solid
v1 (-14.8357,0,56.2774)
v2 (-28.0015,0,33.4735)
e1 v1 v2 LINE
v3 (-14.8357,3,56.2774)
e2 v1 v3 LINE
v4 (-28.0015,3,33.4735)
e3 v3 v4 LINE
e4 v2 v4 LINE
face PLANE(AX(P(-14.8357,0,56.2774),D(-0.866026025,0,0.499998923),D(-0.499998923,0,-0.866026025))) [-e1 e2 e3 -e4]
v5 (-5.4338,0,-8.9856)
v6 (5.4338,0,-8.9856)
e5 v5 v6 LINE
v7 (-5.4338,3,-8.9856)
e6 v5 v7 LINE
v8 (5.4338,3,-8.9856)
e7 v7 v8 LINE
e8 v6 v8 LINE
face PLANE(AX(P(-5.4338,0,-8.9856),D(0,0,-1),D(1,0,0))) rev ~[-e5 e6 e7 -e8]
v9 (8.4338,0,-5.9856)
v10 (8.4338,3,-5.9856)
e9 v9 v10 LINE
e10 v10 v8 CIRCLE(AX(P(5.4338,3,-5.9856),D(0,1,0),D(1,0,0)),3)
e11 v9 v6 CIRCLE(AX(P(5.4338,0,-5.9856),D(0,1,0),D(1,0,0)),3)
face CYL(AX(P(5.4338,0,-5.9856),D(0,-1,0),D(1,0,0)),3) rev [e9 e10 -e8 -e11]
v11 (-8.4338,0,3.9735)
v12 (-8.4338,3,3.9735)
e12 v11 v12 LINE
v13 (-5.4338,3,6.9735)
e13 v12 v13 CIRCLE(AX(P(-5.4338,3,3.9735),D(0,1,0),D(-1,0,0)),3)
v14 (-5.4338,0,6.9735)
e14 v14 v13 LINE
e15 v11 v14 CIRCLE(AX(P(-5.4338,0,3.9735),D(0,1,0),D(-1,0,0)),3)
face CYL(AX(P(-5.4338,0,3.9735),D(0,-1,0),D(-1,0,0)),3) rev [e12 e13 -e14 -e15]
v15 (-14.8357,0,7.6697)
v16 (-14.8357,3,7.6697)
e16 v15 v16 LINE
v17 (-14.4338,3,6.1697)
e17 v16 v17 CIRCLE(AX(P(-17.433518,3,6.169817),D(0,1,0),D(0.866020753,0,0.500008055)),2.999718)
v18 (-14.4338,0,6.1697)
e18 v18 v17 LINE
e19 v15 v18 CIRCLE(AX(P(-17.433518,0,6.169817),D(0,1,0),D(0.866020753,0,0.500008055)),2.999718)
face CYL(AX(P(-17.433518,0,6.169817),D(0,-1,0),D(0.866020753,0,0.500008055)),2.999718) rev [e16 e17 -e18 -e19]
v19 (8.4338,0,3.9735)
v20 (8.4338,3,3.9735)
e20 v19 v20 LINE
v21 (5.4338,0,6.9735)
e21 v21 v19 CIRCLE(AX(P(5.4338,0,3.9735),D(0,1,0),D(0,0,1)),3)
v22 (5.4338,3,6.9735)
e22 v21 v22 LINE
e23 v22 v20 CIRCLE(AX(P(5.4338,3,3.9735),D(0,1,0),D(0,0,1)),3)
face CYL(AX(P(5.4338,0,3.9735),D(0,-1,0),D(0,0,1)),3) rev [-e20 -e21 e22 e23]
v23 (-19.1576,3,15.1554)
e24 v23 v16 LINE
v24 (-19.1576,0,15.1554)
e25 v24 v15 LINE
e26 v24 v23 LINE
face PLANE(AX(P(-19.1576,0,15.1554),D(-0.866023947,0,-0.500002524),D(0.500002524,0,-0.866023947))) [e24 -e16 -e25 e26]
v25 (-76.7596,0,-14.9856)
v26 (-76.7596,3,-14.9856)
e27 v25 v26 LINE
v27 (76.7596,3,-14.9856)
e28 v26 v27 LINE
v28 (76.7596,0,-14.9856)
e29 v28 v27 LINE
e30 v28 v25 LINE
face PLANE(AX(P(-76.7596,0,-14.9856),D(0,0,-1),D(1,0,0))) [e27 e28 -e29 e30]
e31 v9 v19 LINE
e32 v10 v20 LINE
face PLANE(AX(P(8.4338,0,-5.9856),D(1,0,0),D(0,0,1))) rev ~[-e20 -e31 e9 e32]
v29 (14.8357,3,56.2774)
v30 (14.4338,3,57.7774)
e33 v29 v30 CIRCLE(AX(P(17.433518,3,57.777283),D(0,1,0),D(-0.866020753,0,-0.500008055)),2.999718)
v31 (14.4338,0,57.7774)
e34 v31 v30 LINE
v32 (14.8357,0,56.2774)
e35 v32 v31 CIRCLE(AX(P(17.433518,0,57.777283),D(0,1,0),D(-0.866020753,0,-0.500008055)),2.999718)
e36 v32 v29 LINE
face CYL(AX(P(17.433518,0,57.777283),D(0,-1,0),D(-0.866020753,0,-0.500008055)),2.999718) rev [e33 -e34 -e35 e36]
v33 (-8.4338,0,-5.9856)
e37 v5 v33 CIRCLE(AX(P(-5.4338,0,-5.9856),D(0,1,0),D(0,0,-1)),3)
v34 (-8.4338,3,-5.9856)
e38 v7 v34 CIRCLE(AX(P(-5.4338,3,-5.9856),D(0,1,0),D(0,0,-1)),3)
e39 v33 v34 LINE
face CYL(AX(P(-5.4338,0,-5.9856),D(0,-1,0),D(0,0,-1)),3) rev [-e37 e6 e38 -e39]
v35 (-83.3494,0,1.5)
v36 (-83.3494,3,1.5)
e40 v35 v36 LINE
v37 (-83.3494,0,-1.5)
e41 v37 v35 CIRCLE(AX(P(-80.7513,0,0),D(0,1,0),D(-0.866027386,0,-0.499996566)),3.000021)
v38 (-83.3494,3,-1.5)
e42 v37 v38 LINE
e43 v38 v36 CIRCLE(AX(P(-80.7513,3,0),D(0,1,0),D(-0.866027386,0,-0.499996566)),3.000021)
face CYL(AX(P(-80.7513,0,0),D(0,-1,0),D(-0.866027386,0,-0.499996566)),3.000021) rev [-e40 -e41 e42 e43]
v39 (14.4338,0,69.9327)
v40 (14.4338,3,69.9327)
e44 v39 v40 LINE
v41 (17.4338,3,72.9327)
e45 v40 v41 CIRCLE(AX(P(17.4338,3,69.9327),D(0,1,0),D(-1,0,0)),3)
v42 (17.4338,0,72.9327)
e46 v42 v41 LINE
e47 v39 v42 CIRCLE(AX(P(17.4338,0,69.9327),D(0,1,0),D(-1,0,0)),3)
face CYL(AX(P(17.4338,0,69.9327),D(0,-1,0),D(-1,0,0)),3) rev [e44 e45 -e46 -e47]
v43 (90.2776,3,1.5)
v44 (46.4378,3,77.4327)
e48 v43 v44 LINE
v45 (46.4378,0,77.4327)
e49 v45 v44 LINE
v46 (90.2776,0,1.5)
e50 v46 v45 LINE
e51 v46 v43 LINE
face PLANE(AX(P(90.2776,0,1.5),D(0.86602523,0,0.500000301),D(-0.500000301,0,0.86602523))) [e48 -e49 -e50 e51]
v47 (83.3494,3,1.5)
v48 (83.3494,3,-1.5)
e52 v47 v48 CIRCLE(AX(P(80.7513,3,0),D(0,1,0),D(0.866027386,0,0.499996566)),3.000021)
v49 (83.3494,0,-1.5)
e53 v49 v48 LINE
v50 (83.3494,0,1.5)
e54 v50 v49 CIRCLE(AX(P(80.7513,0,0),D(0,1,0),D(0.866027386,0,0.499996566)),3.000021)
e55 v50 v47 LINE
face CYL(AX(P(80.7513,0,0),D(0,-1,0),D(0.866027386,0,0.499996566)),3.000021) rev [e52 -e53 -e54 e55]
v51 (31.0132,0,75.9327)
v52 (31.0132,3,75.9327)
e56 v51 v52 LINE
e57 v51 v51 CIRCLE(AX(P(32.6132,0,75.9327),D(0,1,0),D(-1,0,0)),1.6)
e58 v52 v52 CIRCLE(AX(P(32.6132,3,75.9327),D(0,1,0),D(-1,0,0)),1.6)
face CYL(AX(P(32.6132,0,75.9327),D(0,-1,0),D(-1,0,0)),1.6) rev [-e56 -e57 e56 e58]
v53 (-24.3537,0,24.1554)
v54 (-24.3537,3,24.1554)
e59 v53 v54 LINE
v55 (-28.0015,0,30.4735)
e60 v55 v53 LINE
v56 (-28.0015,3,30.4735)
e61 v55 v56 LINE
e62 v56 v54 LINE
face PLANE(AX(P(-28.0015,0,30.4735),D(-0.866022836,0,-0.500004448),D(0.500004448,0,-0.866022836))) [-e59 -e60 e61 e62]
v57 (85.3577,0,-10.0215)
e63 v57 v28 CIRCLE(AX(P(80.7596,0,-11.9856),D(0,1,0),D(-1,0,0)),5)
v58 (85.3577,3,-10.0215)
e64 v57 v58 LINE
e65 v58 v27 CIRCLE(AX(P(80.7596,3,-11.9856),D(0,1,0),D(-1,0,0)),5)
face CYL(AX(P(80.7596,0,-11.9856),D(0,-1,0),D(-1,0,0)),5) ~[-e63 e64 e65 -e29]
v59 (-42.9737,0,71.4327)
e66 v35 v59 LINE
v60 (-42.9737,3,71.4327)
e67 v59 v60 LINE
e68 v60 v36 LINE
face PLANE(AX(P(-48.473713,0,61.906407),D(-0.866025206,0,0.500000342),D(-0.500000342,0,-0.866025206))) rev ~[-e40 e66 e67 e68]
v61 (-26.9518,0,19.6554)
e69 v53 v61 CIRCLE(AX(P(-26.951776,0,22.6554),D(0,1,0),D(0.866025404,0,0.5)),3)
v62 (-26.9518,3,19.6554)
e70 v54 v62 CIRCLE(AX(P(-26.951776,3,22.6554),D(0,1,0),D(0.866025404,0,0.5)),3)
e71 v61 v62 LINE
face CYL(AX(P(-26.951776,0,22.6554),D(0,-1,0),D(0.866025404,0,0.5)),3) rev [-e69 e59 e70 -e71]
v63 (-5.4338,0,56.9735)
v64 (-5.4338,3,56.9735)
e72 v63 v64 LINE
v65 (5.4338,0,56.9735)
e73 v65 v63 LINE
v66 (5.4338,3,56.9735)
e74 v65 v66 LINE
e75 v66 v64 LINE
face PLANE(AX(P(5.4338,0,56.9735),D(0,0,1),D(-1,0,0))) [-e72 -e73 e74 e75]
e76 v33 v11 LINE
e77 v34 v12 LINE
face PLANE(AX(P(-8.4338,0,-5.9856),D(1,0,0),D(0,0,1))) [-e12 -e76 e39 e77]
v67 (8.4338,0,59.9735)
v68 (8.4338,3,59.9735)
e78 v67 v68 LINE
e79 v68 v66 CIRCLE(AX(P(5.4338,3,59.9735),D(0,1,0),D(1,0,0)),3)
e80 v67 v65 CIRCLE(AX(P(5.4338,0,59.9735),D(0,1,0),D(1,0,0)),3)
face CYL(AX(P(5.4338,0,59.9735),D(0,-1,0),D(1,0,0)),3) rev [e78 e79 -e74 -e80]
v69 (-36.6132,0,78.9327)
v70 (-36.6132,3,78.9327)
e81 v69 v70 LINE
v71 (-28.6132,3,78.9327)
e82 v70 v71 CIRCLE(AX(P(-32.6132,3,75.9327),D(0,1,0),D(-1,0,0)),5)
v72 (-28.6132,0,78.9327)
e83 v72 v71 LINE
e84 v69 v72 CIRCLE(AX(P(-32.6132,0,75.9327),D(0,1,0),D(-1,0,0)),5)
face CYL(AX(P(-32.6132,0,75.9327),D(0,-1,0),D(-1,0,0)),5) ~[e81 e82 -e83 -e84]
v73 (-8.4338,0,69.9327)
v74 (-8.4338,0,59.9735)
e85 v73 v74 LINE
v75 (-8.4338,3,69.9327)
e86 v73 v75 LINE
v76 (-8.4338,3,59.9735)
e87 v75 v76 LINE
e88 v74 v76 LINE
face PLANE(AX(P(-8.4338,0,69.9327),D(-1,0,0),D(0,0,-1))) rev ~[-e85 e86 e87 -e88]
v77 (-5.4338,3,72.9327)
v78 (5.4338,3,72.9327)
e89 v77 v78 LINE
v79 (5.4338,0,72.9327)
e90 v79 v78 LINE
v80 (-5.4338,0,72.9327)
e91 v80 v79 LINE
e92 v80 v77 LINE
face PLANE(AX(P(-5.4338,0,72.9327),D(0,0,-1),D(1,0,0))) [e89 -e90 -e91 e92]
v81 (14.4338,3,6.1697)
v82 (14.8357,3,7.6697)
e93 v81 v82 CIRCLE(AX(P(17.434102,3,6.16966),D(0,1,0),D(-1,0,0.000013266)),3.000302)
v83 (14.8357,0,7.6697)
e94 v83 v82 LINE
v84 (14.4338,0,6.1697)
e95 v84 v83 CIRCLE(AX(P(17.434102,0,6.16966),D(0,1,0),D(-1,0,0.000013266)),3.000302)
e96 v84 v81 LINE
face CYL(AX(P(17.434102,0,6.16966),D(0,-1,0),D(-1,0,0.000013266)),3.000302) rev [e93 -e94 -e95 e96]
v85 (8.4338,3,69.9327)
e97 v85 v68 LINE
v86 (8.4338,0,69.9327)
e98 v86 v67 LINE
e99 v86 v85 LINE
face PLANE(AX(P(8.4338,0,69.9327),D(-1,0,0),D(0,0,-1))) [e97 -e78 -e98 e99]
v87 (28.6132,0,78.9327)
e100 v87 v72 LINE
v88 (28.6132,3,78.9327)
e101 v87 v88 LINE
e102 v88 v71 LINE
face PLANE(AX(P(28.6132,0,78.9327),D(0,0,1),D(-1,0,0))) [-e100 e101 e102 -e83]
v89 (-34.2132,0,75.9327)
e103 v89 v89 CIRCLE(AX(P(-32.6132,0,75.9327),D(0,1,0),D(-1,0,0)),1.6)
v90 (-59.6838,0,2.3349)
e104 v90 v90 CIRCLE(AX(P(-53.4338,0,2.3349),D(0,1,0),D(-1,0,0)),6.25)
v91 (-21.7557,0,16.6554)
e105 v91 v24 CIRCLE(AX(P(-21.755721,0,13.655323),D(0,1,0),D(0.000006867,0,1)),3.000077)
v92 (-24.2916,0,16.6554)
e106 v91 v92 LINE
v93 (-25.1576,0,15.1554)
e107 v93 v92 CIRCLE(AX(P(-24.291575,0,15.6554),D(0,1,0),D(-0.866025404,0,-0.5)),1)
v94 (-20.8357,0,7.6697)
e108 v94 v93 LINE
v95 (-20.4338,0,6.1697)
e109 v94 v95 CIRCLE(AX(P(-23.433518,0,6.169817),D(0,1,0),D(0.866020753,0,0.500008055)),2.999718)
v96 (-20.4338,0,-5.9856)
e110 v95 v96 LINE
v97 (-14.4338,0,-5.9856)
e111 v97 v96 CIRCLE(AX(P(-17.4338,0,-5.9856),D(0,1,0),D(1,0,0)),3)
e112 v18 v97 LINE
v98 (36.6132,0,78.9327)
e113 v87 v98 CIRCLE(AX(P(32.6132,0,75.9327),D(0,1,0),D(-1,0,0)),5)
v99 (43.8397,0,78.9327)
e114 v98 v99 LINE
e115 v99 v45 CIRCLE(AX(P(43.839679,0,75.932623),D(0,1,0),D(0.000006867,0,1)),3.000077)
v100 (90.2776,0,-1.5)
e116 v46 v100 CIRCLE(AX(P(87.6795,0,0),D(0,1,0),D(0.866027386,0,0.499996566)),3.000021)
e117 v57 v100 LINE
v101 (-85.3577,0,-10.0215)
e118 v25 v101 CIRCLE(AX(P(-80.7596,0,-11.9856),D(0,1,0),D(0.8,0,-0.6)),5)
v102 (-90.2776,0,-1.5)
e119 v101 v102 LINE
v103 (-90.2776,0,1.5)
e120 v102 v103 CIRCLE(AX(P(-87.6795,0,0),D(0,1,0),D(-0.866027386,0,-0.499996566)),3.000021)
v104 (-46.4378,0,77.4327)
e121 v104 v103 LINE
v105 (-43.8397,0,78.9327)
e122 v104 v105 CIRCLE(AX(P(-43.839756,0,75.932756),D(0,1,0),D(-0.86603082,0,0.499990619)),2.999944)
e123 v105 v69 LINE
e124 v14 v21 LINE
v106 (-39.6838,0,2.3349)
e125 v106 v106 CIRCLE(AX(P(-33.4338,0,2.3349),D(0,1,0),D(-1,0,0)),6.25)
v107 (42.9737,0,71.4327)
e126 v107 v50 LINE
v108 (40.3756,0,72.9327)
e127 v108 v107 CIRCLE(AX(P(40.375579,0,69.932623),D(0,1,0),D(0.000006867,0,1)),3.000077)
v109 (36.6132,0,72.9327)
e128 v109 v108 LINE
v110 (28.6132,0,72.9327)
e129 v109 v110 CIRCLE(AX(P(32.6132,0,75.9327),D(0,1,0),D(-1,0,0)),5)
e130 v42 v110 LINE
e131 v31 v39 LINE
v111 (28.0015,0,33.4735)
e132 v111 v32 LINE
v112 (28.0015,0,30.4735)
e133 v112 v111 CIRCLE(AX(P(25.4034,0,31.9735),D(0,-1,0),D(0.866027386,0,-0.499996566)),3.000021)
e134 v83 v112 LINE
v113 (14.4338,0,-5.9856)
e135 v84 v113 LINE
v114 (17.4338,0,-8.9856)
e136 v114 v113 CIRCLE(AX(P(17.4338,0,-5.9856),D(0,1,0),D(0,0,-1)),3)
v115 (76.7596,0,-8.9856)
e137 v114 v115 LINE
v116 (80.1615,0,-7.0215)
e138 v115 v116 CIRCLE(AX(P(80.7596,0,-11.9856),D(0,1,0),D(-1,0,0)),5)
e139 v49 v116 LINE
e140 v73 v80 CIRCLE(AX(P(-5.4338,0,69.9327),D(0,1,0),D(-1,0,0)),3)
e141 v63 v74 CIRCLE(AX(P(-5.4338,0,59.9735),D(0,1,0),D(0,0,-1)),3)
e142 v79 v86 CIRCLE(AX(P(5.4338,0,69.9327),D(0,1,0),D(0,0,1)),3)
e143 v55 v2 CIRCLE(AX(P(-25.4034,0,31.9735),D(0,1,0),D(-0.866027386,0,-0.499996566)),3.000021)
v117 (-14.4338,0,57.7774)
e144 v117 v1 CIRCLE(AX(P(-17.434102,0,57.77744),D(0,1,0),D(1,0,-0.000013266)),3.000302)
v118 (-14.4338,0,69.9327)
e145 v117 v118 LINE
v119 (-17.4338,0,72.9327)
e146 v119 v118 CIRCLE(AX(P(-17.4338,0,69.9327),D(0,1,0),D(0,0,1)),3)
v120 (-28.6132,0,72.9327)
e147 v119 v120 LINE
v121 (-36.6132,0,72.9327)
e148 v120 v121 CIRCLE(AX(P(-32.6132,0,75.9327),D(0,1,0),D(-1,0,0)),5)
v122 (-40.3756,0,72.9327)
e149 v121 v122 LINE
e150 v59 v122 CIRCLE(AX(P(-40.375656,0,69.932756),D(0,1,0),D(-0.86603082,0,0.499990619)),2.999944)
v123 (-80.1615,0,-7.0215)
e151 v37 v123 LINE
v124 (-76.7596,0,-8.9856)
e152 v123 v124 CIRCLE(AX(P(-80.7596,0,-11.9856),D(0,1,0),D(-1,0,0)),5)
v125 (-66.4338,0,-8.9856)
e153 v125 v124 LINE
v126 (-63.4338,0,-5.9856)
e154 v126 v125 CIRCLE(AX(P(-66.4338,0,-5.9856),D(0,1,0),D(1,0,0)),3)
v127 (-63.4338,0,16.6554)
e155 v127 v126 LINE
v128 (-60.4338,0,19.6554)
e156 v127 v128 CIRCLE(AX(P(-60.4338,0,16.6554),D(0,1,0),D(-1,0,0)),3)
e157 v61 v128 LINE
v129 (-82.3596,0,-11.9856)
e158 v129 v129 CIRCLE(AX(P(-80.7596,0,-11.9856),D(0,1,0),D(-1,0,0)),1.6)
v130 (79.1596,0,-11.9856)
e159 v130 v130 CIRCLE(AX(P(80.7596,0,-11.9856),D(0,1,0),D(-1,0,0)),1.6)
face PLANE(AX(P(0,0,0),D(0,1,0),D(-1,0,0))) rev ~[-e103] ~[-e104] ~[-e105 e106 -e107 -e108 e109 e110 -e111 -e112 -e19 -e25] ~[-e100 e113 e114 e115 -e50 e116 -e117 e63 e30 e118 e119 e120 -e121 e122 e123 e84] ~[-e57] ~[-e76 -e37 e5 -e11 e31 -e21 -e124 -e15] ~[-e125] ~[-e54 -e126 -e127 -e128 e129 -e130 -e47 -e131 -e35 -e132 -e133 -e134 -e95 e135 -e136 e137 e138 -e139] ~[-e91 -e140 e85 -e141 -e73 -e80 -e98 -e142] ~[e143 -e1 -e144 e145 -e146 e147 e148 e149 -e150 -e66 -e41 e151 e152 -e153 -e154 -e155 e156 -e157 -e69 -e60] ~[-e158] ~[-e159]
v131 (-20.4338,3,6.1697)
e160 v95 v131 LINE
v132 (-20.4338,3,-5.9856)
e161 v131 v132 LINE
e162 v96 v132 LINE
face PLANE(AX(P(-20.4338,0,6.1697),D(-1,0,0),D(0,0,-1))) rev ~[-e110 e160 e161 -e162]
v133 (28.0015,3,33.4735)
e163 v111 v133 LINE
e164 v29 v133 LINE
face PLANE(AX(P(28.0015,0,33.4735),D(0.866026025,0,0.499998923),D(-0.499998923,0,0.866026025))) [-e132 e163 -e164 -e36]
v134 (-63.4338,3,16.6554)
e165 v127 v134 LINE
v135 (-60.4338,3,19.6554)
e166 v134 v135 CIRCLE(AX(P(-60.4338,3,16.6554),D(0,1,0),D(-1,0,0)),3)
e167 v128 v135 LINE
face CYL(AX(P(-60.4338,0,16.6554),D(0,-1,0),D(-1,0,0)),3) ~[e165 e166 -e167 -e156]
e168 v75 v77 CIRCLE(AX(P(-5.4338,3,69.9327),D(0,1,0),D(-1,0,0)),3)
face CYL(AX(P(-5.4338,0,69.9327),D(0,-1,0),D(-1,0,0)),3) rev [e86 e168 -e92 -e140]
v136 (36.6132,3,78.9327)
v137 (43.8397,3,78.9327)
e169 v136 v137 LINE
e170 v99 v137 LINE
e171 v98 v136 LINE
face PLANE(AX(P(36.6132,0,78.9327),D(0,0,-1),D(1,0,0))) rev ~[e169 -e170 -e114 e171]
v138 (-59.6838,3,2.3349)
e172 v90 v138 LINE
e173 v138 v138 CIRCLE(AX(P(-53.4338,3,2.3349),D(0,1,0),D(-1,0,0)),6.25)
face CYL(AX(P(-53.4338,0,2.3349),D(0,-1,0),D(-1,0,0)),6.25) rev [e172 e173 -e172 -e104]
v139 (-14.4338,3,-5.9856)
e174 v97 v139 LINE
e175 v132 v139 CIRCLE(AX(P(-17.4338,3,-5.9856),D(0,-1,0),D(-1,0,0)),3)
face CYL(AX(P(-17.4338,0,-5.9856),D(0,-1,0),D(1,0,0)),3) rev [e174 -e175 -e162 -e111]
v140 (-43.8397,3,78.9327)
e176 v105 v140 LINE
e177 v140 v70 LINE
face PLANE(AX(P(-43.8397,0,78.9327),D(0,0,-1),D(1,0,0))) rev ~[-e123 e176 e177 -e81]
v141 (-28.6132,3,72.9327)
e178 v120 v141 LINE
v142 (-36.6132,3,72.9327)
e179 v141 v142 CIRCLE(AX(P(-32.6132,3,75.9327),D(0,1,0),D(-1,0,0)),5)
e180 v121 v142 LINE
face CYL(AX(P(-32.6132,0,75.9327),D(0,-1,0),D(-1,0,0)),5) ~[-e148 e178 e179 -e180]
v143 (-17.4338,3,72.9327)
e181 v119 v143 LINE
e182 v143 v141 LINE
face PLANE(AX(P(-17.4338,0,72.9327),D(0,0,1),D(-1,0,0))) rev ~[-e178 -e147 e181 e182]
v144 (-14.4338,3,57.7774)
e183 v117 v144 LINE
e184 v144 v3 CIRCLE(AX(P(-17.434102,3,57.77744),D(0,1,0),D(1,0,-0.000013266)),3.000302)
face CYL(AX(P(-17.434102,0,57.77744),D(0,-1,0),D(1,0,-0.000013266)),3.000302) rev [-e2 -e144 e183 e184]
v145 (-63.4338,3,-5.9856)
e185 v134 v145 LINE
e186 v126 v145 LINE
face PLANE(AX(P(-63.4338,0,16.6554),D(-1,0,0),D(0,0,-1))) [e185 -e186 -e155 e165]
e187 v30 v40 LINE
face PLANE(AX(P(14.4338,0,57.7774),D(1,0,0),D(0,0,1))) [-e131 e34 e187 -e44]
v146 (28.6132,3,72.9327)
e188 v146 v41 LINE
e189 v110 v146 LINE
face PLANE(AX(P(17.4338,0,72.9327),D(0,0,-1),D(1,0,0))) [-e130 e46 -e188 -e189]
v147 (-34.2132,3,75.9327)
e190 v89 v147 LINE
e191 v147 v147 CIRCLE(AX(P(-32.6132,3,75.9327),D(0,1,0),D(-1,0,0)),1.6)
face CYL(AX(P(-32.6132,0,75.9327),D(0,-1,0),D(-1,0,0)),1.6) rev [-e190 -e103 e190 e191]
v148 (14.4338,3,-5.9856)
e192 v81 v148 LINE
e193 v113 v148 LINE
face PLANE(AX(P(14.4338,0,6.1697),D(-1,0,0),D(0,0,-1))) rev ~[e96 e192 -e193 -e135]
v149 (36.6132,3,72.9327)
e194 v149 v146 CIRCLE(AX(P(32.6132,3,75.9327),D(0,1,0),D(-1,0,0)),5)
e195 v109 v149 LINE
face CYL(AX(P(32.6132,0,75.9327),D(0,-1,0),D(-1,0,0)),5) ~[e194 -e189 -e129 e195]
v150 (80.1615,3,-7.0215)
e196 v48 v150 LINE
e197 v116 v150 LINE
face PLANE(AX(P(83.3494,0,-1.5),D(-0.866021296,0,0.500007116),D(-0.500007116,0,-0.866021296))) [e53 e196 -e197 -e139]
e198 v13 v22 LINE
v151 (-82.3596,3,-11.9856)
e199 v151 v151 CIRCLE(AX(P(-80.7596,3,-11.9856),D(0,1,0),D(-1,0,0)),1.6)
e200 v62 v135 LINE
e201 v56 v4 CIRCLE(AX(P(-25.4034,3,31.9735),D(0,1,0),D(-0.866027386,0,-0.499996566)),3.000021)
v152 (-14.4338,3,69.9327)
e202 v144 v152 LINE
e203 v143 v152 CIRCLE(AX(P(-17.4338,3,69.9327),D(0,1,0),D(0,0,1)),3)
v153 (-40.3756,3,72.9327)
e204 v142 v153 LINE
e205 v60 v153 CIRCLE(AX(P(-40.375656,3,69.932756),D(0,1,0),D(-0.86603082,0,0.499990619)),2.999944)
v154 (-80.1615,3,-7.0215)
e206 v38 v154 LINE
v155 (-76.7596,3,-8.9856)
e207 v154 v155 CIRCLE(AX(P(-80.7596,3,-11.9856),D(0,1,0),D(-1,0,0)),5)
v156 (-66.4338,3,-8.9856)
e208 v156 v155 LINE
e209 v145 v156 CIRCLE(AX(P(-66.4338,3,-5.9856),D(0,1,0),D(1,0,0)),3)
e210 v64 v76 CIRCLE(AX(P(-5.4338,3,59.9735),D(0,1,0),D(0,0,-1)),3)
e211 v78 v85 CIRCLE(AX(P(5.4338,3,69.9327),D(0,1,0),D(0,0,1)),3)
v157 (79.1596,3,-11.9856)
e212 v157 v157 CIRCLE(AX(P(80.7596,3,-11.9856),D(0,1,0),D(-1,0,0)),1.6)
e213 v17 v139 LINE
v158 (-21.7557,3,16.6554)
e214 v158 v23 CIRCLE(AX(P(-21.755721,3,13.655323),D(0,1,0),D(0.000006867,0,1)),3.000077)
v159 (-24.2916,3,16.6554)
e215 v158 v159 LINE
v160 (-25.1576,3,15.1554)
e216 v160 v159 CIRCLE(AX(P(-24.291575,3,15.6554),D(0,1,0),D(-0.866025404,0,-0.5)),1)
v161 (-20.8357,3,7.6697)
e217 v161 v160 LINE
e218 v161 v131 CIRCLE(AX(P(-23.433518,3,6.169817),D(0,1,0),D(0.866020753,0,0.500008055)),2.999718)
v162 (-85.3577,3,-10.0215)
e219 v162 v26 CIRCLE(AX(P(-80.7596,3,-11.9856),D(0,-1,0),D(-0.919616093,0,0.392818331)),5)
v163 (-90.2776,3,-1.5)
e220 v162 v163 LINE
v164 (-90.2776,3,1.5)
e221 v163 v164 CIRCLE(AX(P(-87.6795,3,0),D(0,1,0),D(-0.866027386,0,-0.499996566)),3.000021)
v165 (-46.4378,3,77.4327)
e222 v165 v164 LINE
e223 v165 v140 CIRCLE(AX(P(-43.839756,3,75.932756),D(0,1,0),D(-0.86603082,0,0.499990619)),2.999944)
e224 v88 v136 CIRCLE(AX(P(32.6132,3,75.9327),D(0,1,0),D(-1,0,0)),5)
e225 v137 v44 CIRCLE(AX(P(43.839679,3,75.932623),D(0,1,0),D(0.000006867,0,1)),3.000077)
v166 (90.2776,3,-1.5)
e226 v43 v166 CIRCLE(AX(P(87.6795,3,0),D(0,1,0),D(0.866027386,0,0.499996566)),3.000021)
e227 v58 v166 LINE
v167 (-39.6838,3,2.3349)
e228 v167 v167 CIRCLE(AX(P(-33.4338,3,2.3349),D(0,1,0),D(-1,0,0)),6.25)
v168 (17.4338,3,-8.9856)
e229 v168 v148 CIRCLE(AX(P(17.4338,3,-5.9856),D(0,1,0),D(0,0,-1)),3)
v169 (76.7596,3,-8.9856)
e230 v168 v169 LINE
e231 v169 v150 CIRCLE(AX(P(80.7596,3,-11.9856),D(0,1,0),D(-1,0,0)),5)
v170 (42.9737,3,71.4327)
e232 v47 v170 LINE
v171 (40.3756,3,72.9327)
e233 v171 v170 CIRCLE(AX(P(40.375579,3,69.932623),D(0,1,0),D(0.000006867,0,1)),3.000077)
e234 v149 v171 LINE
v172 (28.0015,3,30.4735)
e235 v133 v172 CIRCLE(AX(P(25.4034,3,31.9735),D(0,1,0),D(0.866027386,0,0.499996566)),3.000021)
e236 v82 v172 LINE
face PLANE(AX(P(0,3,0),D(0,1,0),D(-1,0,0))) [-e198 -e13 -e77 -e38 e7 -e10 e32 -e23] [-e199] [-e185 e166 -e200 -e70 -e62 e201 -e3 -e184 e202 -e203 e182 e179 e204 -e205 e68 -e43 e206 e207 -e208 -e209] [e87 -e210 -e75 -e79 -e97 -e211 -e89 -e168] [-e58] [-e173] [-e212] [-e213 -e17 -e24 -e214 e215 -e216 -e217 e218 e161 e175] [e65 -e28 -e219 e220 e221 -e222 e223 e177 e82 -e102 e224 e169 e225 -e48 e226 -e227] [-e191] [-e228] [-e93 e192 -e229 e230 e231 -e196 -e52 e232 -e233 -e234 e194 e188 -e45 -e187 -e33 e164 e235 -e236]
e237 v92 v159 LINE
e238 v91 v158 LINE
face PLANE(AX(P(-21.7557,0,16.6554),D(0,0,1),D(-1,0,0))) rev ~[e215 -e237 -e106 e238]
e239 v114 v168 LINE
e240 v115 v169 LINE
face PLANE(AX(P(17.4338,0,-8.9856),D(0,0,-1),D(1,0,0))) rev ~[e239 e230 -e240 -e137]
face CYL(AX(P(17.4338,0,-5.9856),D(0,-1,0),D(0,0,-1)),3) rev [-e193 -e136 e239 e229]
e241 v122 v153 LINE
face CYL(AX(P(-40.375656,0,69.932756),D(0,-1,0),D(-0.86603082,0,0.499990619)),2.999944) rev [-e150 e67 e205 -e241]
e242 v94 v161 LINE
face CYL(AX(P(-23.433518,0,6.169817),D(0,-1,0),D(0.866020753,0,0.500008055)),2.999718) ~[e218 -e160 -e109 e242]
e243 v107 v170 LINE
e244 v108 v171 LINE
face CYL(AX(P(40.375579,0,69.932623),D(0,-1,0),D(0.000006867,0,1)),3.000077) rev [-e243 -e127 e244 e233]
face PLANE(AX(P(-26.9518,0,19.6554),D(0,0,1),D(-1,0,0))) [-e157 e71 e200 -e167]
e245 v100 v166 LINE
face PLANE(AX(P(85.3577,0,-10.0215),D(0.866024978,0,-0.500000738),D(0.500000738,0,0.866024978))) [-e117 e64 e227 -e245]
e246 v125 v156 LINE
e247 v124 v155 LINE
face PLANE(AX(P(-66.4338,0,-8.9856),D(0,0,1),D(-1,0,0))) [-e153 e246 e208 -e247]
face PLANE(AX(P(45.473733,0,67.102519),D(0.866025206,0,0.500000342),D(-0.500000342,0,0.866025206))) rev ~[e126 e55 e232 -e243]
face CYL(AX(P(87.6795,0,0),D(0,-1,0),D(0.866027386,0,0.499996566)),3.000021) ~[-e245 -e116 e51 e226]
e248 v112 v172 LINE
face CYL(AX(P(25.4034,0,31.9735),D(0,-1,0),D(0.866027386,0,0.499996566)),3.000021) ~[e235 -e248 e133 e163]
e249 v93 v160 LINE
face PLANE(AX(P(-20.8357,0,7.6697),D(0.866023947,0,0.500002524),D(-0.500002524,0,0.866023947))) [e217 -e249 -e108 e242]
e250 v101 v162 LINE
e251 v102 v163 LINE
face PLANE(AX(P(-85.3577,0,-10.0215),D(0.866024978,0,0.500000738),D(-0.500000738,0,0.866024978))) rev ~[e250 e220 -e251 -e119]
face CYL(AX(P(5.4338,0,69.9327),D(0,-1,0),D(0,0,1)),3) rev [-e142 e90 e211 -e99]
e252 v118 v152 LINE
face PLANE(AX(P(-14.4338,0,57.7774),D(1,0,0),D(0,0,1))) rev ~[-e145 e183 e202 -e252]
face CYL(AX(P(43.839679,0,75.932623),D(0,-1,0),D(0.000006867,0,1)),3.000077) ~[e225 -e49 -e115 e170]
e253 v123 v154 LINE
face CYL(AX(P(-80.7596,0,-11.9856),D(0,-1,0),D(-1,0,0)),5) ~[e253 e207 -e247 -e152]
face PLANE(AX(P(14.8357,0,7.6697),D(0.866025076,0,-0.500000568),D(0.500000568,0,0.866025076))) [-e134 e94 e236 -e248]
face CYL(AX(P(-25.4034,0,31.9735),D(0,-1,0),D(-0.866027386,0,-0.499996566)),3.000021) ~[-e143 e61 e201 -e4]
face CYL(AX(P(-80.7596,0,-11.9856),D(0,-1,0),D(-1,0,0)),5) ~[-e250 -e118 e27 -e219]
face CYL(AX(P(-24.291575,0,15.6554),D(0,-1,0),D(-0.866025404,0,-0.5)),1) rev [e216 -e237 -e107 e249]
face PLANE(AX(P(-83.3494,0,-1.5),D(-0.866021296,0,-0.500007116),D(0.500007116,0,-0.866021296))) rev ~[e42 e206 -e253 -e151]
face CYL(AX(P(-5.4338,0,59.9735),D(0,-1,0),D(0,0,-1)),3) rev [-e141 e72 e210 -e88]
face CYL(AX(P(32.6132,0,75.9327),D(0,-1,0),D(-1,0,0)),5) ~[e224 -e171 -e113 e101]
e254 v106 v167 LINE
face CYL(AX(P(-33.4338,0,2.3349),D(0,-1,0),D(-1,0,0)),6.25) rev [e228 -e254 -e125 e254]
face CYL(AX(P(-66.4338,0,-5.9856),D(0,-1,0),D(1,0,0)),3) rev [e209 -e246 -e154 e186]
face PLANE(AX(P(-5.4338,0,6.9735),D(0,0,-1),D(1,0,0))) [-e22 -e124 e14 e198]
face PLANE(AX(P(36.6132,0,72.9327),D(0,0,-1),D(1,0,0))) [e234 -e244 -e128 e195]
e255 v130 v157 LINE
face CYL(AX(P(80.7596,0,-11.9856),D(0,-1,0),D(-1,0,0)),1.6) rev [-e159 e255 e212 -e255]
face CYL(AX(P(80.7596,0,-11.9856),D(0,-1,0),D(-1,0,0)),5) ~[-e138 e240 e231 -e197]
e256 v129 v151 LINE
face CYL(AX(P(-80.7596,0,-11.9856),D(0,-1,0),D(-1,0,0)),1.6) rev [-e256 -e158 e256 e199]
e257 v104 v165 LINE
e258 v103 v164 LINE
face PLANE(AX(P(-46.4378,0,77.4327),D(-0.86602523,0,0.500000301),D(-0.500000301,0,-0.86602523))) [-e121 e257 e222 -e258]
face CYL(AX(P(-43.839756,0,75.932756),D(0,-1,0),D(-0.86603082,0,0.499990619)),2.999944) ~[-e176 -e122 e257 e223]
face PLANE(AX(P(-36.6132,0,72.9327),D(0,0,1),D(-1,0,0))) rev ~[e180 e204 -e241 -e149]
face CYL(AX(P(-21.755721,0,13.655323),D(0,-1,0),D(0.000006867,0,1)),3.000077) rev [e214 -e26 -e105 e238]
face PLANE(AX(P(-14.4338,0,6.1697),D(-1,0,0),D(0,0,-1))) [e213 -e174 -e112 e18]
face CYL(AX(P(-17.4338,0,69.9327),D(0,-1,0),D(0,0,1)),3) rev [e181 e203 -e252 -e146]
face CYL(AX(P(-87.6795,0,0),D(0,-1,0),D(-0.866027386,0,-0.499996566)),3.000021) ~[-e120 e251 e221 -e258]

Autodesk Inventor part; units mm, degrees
ref_plane "YZ Plane" through (0, 0, 0) normal (1, 0, 0) x (0, 1, 0)
ref_plane "XZ Plane" through (0, 0, 0) normal (0, 1, 0) x (-1, 0, 0)
ref_plane "XY Plane" through (0, 0, 0) normal (0, 0, 1) x (1, 0, 0)
sketch "Sketch1" plane through (0, 0, 0) normal (0, 1, 0) x (-1, 0, 0)
  circle A0 centre (32.6132, 75.9327) radius 1.6
  circle A1 centre (-32.6132, 75.9327) radius 1.6
  circle A2 centre (80.7596, -11.9856) radius 1.6
  circle A3 centre (-80.7596, -11.9856) radius 1.6
  circle A4 centre (80.7596, -11.9856) radius 5
  circle A5 centre (32.6132, 75.9327) radius 5
  circle A6 centre (-32.6132, 75.9327) radius 5
  circle A7 centre (-80.7596, -11.9856) radius 5
  line L0 (-90.2776, 1.5) -> (-46.4378, 77.4327)
  line L1 (46.4378, 77.4327) -> (90.2776, 1.5)
  line L2 (-83.3494, 1.5) -> (-42.9737, 71.4327)
  line L3 (36.6132, 72.9327) -> (40.3756, 72.9327)
  line L4 (42.9737, 71.4327) -> (83.3494, 1.5)
  line L5 (83.3494, -1.5) -> (80.1615, -7.0215)
  line L6 (85.3577, -10.0215) -> (90.2776, -1.5)
  line L7 (43.8397, 78.9327) -> (36.6132, 78.9327)
  line L8 (-17.4338, 72.9327) -> (-28.6132, 72.9327)
  line L9 (-28.6132, 78.9327) -> (28.6132, 78.9327)
  line L10 (-36.6132, 72.9327) -> (-40.3756, 72.9327)
  line L11 (-36.6132, 78.9327) -> (-43.8397, 78.9327)
  line L12 (-83.3494, -1.5) -> (-80.1615, -7.0215)
  line L13 (-85.3577, -10.0215) -> (-90.2776, -1.5)
  line L14 (-80.7596, -11.9856) -> (-77.7596, -11.9856) construction
  line L15 (76.7596, -14.9856) -> (-76.7596, -14.9856)
  arc A8 (90.2776, -1.5) -> (90.2776, 1.5) centre (87.6795, 0) ccw
  arc A9 (83.3494, -1.5) -> (83.3494, 1.5) centre (80.7513, 0) ccw
  arc A10 (46.4378, 77.4327) -> (43.8397, 78.9327) centre (43.8397, 75.9327) ccw
  arc A11 (42.9737, 71.4327) -> (40.3756, 72.9327) centre (40.3756, 69.9327) ccw
  arc A12 (-43.8397, 78.9327) -> (-46.4378, 77.4327) centre (-43.8397, 75.9327) ccw
  arc A13 (-40.3756, 72.9327) -> (-42.9737, 71.4327) centre (-40.3756, 69.9327) ccw
  arc A14 (-83.3494, 1.5) -> (-83.3494, -1.5) centre (-80.7513, 0) ccw
  arc A15 (-90.2776, 1.5) -> (-90.2776, -1.5) centre (-87.6795, 0) ccw
  line L16 (42.9737, 71.4327) -> (45.4737, 67.1025)
  line L17 (45.4737, 67.1025) -> (48.4737, 61.9064)
  line L18 (-42.9737, 71.4327) -> (-45.4737, 67.1025)
  line L19 (-45.4737, 67.1025) -> (-48.4737, 61.9064)
  line L20 (-23.0235, 72.9327) -> (-26.0235, 72.9327)
  line L21 (-23.0235, 72.9327) -> (-20.0235, 72.9327)
  line L22 (-28.0015, 33.4735) -> (-14.8357, 56.2774)
  line L23 (-5.4338, 56.9735) -> (5.4338, 56.9735)
  line L24 (14.8357, 56.2774) -> (28.0015, 33.4735)
  line L25 (5.4338, 6.9735) -> (-5.4338, 6.9735)
  line L26 (-14.8357, 7.6697) -> (-28.0015, 30.4735)
  line L27 (14.4338, 6.1697) -> (14.4338, -5.9856)
  line L28 (-14.4338, 6.1697) -> (-14.4338, -5.9856)
  line L29 (-8.4338, -5.9856) -> (-8.4338, 3.9735)
  line L30 (8.4338, -5.9856) -> (8.4338, 3.9735)
  line L31 (-14.4338, 57.7774) -> (-14.4338, 69.9327)
  line L32 (-8.4338, 69.9327) -> (-8.4338, 59.9735)
  line L33 (14.4338, 57.7774) -> (14.4338, 69.9327)
  line L34 (8.4338, 69.9327) -> (8.4338, 59.9735)
  arc A16 (14.4338, -5.9856) -> (17.4338, -8.9856) centre (17.4338, -5.9856) ccw
  arc A17 (14.8357, 7.6697) -> (14.4338, 6.1697) centre (17.4338, 6.1697) ccw
  arc A18 (8.4338, 3.9735) -> (5.4338, 6.9735) centre (5.4338, 3.9735) ccw
  arc A19 (-5.4338, 6.9735) -> (-8.4338, 3.9735) centre (-5.4338, 3.9735) ccw
  arc A20 (-14.4338, 6.1697) -> (-14.8357, 7.6697) centre (-17.4338, 6.1697) ccw
  arc A21 (-28.0015, 33.4735) -> (-28.0015, 30.4735) centre (-25.4034, 31.9735) ccw
  arc A22 (28.0015, 30.4735) -> (28.0015, 33.4735) centre (25.4034, 31.9735) ccw
  arc A23 (-14.8357, 56.2774) -> (-14.4338, 57.7774) centre (-17.4338, 57.7774) ccw
  arc A24 (-14.4338, 69.9327) -> (-17.4338, 72.9327) centre (-17.4338, 69.9327) ccw
  arc A25 (5.4338, 56.9735) -> (8.4338, 59.9735) centre (5.4338, 59.9735) ccw
  arc A26 (-8.4338, 59.9735) -> (-5.4338, 56.9735) centre (-5.4338, 59.9735) ccw
  arc A27 (14.4338, 57.7774) -> (14.8357, 56.2774) centre (17.4338, 57.7774) ccw
  line L35 (17.4338, 72.9327) -> (28.6132, 72.9327)
  line L36 (5.4338, 72.9327) -> (-5.4338, 72.9327)
  line L37 (5.4338, -8.9856) -> (-5.4338, -8.9856)
  line L38 (-17.4338, -8.9856) -> (-76.7596, -8.9856)
  arc A28 (5.4338, -8.9856) -> (8.4338, -5.9856) centre (5.4338, -5.9856) ccw
  arc A29 (-8.4338, -5.9856) -> (-5.4338, -8.9856) centre (-5.4338, -5.9856) ccw
  arc A30 (-17.4338, -8.9856) -> (-14.4338, -5.9856) centre (-17.4338, -5.9856) ccw
  arc A31 (-5.4338, 72.9327) -> (-8.4338, 69.9327) centre (-5.4338, 69.9327) ccw
  arc A32 (8.4338, 69.9327) -> (5.4338, 72.9327) centre (5.4338, 69.9327) ccw
  arc A33 (17.4338, 72.9327) -> (14.4338, 69.9327) centre (17.4338, 69.9327) ccw
  circle A34 centre (33.4338, 2.3349) radius 6.25
  circle A35 centre (53.4338, 2.3349) radius 6.25
  line L39 (86.5956, -77.4481) -> (86.5956, -51.4481)
  line L40 (86.5956, -51.4481) -> (74.5956, -51.4481)
  line L41 (-25.4034, 31.9735) -> (-28.8675, 31.9735)
  line L42 (-25.4034, 31.9735) -> (-21.9393, 31.9735) construction
  line L43 (-28.8675, 31.9735) -> (-26.3675, 36.3037)
  line L44 (-26.3675, 36.3037) -> (-54.0335, 52.2766)
  arc A36 (63.4338, 16.6554) -> (60.4338, 19.6554) centre (60.4338, 16.6554) ccw
  line L45 (8.4338, -14.9856) -> (23.4338, -14.9856)
  line L46 (63.4338, 16.6554) -> (63.4338, -5.9856)
  line L47 (21.7557, 16.6554) -> (24.2916, 16.6554)
  line L48 (20.4338, 6.1697) -> (20.4338, -5.9856)
  line L49 (20.8357, 7.6697) -> (25.1576, 15.1554)
  line L50 (28.0015, 30.4735) -> (24.3537, 24.1554)
  line L51 (19.1576, 15.1554) -> (14.8357, 7.6697)
  line L52 (17.4338, -8.9856) -> (17.4338, -8.9856)
  line L53 (66.4338, -8.9856) -> (76.7596, -8.9856)
  arc A37 (17.4338, -8.9856) -> (20.4338, -5.9856) centre (17.4338, -5.9856) ccw
  arc A38 (20.8357, 7.6697) -> (20.4338, 6.1697) centre (23.4338, 6.1697) ccw
  arc A39 (25.1576, 15.1554) -> (24.2916, 16.6554) centre (24.2916, 15.6554) ccw
  arc A40 (21.7557, 16.6554) -> (19.1576, 15.1554) centre (21.7557, 13.6554) ccw
  arc A41 (24.3537, 24.1554) -> (26.9518, 19.6554) centre (26.9518, 22.6554) ccw
  arc A42 (63.4338, -5.9856) -> (66.4338, -8.9856) centre (66.4338, -5.9856) ccw
  line L54 (26.9518, 19.6554) -> (60.4338, 19.6554)
  point P0 (0, 0)
  point P1 (0, 0)
  point P2 (45.5718, 78.9327)
  point P3 (91.1436, 0)
  point P4 (0, 0)
  point P5 (-84.2154, 0)
  point P6 (-42.1077, 72.9327)
  point P7 (-76.7596, -8.9856)
  point P8 (-80.8494, -5.8301)
  point P9 (-74.3148, -8.9856)
  point P10 (80.8494, -5.8301)
  point P11 (74.3148, -8.9856)
  point P12 (-63.1615, 36.4663)
  point P13 (-14.4338, 56.9735)
  point P14 (14.4338, 56.9735)
  point P15 (-14.4338, 6.9735)
  point P16 (-14.4338, -8.9856)
  point P17 (-8.4338, -8.9856)
  point P18 (8.4338, -8.9856)
  point P19 (-8.4338, 72.9327)
  point P20 (14.4338, 72.9327)
  point P21 (8.4338, 72.9327)
  point P22 (20.0236, 16.6554)
  point P23 (26.0236, 16.6554)
  dimension "d0" = 3.2
  dimension "d1" = 3.2
  dimension "d2" = 3.2
  dimension "d3" = 10
  dimension "d4" = 10
  dimension "d24" = 3
  dimension "d27" = 5
  dimension "d29" = 6
  dimension "d31" = 5
  dimension "d33" = 6
  dimension "d36" = 3
  dimension "d37" = 3
  dimension "d39" = 50
  dimension "d44" = 3
  dimension "d45" = 26
  dimension "d46" = 12
  dimension "d47" = 180
  dimension "d48" = 5
  dimension "d49" = 90
  dimension "d54" = 6
  dimension "d56" = 3
  dimension "d57" = 1
  dimension "d58" = 3
extrude "Extrusion1" add sketch "Sketch1" along normal blind 3 contours A4 | A4 L5 A9 L4 A11 L3 A5 L7 A10 L1 A8 L6 | L15 A7 L38 A30 L28 A20 L26 A21 L22 A23 L31 A24 L8 A6 L9 A5 L35 A33 L33 A27 L24 A22 L50 A41 L54 A36 L46 A42 L53 A4 | A7 | L13 A15 L0 A12 L11 A6 L10 A13 L2 A14 L12 A7 | A5 | A6
properties part number "Top Plat"
